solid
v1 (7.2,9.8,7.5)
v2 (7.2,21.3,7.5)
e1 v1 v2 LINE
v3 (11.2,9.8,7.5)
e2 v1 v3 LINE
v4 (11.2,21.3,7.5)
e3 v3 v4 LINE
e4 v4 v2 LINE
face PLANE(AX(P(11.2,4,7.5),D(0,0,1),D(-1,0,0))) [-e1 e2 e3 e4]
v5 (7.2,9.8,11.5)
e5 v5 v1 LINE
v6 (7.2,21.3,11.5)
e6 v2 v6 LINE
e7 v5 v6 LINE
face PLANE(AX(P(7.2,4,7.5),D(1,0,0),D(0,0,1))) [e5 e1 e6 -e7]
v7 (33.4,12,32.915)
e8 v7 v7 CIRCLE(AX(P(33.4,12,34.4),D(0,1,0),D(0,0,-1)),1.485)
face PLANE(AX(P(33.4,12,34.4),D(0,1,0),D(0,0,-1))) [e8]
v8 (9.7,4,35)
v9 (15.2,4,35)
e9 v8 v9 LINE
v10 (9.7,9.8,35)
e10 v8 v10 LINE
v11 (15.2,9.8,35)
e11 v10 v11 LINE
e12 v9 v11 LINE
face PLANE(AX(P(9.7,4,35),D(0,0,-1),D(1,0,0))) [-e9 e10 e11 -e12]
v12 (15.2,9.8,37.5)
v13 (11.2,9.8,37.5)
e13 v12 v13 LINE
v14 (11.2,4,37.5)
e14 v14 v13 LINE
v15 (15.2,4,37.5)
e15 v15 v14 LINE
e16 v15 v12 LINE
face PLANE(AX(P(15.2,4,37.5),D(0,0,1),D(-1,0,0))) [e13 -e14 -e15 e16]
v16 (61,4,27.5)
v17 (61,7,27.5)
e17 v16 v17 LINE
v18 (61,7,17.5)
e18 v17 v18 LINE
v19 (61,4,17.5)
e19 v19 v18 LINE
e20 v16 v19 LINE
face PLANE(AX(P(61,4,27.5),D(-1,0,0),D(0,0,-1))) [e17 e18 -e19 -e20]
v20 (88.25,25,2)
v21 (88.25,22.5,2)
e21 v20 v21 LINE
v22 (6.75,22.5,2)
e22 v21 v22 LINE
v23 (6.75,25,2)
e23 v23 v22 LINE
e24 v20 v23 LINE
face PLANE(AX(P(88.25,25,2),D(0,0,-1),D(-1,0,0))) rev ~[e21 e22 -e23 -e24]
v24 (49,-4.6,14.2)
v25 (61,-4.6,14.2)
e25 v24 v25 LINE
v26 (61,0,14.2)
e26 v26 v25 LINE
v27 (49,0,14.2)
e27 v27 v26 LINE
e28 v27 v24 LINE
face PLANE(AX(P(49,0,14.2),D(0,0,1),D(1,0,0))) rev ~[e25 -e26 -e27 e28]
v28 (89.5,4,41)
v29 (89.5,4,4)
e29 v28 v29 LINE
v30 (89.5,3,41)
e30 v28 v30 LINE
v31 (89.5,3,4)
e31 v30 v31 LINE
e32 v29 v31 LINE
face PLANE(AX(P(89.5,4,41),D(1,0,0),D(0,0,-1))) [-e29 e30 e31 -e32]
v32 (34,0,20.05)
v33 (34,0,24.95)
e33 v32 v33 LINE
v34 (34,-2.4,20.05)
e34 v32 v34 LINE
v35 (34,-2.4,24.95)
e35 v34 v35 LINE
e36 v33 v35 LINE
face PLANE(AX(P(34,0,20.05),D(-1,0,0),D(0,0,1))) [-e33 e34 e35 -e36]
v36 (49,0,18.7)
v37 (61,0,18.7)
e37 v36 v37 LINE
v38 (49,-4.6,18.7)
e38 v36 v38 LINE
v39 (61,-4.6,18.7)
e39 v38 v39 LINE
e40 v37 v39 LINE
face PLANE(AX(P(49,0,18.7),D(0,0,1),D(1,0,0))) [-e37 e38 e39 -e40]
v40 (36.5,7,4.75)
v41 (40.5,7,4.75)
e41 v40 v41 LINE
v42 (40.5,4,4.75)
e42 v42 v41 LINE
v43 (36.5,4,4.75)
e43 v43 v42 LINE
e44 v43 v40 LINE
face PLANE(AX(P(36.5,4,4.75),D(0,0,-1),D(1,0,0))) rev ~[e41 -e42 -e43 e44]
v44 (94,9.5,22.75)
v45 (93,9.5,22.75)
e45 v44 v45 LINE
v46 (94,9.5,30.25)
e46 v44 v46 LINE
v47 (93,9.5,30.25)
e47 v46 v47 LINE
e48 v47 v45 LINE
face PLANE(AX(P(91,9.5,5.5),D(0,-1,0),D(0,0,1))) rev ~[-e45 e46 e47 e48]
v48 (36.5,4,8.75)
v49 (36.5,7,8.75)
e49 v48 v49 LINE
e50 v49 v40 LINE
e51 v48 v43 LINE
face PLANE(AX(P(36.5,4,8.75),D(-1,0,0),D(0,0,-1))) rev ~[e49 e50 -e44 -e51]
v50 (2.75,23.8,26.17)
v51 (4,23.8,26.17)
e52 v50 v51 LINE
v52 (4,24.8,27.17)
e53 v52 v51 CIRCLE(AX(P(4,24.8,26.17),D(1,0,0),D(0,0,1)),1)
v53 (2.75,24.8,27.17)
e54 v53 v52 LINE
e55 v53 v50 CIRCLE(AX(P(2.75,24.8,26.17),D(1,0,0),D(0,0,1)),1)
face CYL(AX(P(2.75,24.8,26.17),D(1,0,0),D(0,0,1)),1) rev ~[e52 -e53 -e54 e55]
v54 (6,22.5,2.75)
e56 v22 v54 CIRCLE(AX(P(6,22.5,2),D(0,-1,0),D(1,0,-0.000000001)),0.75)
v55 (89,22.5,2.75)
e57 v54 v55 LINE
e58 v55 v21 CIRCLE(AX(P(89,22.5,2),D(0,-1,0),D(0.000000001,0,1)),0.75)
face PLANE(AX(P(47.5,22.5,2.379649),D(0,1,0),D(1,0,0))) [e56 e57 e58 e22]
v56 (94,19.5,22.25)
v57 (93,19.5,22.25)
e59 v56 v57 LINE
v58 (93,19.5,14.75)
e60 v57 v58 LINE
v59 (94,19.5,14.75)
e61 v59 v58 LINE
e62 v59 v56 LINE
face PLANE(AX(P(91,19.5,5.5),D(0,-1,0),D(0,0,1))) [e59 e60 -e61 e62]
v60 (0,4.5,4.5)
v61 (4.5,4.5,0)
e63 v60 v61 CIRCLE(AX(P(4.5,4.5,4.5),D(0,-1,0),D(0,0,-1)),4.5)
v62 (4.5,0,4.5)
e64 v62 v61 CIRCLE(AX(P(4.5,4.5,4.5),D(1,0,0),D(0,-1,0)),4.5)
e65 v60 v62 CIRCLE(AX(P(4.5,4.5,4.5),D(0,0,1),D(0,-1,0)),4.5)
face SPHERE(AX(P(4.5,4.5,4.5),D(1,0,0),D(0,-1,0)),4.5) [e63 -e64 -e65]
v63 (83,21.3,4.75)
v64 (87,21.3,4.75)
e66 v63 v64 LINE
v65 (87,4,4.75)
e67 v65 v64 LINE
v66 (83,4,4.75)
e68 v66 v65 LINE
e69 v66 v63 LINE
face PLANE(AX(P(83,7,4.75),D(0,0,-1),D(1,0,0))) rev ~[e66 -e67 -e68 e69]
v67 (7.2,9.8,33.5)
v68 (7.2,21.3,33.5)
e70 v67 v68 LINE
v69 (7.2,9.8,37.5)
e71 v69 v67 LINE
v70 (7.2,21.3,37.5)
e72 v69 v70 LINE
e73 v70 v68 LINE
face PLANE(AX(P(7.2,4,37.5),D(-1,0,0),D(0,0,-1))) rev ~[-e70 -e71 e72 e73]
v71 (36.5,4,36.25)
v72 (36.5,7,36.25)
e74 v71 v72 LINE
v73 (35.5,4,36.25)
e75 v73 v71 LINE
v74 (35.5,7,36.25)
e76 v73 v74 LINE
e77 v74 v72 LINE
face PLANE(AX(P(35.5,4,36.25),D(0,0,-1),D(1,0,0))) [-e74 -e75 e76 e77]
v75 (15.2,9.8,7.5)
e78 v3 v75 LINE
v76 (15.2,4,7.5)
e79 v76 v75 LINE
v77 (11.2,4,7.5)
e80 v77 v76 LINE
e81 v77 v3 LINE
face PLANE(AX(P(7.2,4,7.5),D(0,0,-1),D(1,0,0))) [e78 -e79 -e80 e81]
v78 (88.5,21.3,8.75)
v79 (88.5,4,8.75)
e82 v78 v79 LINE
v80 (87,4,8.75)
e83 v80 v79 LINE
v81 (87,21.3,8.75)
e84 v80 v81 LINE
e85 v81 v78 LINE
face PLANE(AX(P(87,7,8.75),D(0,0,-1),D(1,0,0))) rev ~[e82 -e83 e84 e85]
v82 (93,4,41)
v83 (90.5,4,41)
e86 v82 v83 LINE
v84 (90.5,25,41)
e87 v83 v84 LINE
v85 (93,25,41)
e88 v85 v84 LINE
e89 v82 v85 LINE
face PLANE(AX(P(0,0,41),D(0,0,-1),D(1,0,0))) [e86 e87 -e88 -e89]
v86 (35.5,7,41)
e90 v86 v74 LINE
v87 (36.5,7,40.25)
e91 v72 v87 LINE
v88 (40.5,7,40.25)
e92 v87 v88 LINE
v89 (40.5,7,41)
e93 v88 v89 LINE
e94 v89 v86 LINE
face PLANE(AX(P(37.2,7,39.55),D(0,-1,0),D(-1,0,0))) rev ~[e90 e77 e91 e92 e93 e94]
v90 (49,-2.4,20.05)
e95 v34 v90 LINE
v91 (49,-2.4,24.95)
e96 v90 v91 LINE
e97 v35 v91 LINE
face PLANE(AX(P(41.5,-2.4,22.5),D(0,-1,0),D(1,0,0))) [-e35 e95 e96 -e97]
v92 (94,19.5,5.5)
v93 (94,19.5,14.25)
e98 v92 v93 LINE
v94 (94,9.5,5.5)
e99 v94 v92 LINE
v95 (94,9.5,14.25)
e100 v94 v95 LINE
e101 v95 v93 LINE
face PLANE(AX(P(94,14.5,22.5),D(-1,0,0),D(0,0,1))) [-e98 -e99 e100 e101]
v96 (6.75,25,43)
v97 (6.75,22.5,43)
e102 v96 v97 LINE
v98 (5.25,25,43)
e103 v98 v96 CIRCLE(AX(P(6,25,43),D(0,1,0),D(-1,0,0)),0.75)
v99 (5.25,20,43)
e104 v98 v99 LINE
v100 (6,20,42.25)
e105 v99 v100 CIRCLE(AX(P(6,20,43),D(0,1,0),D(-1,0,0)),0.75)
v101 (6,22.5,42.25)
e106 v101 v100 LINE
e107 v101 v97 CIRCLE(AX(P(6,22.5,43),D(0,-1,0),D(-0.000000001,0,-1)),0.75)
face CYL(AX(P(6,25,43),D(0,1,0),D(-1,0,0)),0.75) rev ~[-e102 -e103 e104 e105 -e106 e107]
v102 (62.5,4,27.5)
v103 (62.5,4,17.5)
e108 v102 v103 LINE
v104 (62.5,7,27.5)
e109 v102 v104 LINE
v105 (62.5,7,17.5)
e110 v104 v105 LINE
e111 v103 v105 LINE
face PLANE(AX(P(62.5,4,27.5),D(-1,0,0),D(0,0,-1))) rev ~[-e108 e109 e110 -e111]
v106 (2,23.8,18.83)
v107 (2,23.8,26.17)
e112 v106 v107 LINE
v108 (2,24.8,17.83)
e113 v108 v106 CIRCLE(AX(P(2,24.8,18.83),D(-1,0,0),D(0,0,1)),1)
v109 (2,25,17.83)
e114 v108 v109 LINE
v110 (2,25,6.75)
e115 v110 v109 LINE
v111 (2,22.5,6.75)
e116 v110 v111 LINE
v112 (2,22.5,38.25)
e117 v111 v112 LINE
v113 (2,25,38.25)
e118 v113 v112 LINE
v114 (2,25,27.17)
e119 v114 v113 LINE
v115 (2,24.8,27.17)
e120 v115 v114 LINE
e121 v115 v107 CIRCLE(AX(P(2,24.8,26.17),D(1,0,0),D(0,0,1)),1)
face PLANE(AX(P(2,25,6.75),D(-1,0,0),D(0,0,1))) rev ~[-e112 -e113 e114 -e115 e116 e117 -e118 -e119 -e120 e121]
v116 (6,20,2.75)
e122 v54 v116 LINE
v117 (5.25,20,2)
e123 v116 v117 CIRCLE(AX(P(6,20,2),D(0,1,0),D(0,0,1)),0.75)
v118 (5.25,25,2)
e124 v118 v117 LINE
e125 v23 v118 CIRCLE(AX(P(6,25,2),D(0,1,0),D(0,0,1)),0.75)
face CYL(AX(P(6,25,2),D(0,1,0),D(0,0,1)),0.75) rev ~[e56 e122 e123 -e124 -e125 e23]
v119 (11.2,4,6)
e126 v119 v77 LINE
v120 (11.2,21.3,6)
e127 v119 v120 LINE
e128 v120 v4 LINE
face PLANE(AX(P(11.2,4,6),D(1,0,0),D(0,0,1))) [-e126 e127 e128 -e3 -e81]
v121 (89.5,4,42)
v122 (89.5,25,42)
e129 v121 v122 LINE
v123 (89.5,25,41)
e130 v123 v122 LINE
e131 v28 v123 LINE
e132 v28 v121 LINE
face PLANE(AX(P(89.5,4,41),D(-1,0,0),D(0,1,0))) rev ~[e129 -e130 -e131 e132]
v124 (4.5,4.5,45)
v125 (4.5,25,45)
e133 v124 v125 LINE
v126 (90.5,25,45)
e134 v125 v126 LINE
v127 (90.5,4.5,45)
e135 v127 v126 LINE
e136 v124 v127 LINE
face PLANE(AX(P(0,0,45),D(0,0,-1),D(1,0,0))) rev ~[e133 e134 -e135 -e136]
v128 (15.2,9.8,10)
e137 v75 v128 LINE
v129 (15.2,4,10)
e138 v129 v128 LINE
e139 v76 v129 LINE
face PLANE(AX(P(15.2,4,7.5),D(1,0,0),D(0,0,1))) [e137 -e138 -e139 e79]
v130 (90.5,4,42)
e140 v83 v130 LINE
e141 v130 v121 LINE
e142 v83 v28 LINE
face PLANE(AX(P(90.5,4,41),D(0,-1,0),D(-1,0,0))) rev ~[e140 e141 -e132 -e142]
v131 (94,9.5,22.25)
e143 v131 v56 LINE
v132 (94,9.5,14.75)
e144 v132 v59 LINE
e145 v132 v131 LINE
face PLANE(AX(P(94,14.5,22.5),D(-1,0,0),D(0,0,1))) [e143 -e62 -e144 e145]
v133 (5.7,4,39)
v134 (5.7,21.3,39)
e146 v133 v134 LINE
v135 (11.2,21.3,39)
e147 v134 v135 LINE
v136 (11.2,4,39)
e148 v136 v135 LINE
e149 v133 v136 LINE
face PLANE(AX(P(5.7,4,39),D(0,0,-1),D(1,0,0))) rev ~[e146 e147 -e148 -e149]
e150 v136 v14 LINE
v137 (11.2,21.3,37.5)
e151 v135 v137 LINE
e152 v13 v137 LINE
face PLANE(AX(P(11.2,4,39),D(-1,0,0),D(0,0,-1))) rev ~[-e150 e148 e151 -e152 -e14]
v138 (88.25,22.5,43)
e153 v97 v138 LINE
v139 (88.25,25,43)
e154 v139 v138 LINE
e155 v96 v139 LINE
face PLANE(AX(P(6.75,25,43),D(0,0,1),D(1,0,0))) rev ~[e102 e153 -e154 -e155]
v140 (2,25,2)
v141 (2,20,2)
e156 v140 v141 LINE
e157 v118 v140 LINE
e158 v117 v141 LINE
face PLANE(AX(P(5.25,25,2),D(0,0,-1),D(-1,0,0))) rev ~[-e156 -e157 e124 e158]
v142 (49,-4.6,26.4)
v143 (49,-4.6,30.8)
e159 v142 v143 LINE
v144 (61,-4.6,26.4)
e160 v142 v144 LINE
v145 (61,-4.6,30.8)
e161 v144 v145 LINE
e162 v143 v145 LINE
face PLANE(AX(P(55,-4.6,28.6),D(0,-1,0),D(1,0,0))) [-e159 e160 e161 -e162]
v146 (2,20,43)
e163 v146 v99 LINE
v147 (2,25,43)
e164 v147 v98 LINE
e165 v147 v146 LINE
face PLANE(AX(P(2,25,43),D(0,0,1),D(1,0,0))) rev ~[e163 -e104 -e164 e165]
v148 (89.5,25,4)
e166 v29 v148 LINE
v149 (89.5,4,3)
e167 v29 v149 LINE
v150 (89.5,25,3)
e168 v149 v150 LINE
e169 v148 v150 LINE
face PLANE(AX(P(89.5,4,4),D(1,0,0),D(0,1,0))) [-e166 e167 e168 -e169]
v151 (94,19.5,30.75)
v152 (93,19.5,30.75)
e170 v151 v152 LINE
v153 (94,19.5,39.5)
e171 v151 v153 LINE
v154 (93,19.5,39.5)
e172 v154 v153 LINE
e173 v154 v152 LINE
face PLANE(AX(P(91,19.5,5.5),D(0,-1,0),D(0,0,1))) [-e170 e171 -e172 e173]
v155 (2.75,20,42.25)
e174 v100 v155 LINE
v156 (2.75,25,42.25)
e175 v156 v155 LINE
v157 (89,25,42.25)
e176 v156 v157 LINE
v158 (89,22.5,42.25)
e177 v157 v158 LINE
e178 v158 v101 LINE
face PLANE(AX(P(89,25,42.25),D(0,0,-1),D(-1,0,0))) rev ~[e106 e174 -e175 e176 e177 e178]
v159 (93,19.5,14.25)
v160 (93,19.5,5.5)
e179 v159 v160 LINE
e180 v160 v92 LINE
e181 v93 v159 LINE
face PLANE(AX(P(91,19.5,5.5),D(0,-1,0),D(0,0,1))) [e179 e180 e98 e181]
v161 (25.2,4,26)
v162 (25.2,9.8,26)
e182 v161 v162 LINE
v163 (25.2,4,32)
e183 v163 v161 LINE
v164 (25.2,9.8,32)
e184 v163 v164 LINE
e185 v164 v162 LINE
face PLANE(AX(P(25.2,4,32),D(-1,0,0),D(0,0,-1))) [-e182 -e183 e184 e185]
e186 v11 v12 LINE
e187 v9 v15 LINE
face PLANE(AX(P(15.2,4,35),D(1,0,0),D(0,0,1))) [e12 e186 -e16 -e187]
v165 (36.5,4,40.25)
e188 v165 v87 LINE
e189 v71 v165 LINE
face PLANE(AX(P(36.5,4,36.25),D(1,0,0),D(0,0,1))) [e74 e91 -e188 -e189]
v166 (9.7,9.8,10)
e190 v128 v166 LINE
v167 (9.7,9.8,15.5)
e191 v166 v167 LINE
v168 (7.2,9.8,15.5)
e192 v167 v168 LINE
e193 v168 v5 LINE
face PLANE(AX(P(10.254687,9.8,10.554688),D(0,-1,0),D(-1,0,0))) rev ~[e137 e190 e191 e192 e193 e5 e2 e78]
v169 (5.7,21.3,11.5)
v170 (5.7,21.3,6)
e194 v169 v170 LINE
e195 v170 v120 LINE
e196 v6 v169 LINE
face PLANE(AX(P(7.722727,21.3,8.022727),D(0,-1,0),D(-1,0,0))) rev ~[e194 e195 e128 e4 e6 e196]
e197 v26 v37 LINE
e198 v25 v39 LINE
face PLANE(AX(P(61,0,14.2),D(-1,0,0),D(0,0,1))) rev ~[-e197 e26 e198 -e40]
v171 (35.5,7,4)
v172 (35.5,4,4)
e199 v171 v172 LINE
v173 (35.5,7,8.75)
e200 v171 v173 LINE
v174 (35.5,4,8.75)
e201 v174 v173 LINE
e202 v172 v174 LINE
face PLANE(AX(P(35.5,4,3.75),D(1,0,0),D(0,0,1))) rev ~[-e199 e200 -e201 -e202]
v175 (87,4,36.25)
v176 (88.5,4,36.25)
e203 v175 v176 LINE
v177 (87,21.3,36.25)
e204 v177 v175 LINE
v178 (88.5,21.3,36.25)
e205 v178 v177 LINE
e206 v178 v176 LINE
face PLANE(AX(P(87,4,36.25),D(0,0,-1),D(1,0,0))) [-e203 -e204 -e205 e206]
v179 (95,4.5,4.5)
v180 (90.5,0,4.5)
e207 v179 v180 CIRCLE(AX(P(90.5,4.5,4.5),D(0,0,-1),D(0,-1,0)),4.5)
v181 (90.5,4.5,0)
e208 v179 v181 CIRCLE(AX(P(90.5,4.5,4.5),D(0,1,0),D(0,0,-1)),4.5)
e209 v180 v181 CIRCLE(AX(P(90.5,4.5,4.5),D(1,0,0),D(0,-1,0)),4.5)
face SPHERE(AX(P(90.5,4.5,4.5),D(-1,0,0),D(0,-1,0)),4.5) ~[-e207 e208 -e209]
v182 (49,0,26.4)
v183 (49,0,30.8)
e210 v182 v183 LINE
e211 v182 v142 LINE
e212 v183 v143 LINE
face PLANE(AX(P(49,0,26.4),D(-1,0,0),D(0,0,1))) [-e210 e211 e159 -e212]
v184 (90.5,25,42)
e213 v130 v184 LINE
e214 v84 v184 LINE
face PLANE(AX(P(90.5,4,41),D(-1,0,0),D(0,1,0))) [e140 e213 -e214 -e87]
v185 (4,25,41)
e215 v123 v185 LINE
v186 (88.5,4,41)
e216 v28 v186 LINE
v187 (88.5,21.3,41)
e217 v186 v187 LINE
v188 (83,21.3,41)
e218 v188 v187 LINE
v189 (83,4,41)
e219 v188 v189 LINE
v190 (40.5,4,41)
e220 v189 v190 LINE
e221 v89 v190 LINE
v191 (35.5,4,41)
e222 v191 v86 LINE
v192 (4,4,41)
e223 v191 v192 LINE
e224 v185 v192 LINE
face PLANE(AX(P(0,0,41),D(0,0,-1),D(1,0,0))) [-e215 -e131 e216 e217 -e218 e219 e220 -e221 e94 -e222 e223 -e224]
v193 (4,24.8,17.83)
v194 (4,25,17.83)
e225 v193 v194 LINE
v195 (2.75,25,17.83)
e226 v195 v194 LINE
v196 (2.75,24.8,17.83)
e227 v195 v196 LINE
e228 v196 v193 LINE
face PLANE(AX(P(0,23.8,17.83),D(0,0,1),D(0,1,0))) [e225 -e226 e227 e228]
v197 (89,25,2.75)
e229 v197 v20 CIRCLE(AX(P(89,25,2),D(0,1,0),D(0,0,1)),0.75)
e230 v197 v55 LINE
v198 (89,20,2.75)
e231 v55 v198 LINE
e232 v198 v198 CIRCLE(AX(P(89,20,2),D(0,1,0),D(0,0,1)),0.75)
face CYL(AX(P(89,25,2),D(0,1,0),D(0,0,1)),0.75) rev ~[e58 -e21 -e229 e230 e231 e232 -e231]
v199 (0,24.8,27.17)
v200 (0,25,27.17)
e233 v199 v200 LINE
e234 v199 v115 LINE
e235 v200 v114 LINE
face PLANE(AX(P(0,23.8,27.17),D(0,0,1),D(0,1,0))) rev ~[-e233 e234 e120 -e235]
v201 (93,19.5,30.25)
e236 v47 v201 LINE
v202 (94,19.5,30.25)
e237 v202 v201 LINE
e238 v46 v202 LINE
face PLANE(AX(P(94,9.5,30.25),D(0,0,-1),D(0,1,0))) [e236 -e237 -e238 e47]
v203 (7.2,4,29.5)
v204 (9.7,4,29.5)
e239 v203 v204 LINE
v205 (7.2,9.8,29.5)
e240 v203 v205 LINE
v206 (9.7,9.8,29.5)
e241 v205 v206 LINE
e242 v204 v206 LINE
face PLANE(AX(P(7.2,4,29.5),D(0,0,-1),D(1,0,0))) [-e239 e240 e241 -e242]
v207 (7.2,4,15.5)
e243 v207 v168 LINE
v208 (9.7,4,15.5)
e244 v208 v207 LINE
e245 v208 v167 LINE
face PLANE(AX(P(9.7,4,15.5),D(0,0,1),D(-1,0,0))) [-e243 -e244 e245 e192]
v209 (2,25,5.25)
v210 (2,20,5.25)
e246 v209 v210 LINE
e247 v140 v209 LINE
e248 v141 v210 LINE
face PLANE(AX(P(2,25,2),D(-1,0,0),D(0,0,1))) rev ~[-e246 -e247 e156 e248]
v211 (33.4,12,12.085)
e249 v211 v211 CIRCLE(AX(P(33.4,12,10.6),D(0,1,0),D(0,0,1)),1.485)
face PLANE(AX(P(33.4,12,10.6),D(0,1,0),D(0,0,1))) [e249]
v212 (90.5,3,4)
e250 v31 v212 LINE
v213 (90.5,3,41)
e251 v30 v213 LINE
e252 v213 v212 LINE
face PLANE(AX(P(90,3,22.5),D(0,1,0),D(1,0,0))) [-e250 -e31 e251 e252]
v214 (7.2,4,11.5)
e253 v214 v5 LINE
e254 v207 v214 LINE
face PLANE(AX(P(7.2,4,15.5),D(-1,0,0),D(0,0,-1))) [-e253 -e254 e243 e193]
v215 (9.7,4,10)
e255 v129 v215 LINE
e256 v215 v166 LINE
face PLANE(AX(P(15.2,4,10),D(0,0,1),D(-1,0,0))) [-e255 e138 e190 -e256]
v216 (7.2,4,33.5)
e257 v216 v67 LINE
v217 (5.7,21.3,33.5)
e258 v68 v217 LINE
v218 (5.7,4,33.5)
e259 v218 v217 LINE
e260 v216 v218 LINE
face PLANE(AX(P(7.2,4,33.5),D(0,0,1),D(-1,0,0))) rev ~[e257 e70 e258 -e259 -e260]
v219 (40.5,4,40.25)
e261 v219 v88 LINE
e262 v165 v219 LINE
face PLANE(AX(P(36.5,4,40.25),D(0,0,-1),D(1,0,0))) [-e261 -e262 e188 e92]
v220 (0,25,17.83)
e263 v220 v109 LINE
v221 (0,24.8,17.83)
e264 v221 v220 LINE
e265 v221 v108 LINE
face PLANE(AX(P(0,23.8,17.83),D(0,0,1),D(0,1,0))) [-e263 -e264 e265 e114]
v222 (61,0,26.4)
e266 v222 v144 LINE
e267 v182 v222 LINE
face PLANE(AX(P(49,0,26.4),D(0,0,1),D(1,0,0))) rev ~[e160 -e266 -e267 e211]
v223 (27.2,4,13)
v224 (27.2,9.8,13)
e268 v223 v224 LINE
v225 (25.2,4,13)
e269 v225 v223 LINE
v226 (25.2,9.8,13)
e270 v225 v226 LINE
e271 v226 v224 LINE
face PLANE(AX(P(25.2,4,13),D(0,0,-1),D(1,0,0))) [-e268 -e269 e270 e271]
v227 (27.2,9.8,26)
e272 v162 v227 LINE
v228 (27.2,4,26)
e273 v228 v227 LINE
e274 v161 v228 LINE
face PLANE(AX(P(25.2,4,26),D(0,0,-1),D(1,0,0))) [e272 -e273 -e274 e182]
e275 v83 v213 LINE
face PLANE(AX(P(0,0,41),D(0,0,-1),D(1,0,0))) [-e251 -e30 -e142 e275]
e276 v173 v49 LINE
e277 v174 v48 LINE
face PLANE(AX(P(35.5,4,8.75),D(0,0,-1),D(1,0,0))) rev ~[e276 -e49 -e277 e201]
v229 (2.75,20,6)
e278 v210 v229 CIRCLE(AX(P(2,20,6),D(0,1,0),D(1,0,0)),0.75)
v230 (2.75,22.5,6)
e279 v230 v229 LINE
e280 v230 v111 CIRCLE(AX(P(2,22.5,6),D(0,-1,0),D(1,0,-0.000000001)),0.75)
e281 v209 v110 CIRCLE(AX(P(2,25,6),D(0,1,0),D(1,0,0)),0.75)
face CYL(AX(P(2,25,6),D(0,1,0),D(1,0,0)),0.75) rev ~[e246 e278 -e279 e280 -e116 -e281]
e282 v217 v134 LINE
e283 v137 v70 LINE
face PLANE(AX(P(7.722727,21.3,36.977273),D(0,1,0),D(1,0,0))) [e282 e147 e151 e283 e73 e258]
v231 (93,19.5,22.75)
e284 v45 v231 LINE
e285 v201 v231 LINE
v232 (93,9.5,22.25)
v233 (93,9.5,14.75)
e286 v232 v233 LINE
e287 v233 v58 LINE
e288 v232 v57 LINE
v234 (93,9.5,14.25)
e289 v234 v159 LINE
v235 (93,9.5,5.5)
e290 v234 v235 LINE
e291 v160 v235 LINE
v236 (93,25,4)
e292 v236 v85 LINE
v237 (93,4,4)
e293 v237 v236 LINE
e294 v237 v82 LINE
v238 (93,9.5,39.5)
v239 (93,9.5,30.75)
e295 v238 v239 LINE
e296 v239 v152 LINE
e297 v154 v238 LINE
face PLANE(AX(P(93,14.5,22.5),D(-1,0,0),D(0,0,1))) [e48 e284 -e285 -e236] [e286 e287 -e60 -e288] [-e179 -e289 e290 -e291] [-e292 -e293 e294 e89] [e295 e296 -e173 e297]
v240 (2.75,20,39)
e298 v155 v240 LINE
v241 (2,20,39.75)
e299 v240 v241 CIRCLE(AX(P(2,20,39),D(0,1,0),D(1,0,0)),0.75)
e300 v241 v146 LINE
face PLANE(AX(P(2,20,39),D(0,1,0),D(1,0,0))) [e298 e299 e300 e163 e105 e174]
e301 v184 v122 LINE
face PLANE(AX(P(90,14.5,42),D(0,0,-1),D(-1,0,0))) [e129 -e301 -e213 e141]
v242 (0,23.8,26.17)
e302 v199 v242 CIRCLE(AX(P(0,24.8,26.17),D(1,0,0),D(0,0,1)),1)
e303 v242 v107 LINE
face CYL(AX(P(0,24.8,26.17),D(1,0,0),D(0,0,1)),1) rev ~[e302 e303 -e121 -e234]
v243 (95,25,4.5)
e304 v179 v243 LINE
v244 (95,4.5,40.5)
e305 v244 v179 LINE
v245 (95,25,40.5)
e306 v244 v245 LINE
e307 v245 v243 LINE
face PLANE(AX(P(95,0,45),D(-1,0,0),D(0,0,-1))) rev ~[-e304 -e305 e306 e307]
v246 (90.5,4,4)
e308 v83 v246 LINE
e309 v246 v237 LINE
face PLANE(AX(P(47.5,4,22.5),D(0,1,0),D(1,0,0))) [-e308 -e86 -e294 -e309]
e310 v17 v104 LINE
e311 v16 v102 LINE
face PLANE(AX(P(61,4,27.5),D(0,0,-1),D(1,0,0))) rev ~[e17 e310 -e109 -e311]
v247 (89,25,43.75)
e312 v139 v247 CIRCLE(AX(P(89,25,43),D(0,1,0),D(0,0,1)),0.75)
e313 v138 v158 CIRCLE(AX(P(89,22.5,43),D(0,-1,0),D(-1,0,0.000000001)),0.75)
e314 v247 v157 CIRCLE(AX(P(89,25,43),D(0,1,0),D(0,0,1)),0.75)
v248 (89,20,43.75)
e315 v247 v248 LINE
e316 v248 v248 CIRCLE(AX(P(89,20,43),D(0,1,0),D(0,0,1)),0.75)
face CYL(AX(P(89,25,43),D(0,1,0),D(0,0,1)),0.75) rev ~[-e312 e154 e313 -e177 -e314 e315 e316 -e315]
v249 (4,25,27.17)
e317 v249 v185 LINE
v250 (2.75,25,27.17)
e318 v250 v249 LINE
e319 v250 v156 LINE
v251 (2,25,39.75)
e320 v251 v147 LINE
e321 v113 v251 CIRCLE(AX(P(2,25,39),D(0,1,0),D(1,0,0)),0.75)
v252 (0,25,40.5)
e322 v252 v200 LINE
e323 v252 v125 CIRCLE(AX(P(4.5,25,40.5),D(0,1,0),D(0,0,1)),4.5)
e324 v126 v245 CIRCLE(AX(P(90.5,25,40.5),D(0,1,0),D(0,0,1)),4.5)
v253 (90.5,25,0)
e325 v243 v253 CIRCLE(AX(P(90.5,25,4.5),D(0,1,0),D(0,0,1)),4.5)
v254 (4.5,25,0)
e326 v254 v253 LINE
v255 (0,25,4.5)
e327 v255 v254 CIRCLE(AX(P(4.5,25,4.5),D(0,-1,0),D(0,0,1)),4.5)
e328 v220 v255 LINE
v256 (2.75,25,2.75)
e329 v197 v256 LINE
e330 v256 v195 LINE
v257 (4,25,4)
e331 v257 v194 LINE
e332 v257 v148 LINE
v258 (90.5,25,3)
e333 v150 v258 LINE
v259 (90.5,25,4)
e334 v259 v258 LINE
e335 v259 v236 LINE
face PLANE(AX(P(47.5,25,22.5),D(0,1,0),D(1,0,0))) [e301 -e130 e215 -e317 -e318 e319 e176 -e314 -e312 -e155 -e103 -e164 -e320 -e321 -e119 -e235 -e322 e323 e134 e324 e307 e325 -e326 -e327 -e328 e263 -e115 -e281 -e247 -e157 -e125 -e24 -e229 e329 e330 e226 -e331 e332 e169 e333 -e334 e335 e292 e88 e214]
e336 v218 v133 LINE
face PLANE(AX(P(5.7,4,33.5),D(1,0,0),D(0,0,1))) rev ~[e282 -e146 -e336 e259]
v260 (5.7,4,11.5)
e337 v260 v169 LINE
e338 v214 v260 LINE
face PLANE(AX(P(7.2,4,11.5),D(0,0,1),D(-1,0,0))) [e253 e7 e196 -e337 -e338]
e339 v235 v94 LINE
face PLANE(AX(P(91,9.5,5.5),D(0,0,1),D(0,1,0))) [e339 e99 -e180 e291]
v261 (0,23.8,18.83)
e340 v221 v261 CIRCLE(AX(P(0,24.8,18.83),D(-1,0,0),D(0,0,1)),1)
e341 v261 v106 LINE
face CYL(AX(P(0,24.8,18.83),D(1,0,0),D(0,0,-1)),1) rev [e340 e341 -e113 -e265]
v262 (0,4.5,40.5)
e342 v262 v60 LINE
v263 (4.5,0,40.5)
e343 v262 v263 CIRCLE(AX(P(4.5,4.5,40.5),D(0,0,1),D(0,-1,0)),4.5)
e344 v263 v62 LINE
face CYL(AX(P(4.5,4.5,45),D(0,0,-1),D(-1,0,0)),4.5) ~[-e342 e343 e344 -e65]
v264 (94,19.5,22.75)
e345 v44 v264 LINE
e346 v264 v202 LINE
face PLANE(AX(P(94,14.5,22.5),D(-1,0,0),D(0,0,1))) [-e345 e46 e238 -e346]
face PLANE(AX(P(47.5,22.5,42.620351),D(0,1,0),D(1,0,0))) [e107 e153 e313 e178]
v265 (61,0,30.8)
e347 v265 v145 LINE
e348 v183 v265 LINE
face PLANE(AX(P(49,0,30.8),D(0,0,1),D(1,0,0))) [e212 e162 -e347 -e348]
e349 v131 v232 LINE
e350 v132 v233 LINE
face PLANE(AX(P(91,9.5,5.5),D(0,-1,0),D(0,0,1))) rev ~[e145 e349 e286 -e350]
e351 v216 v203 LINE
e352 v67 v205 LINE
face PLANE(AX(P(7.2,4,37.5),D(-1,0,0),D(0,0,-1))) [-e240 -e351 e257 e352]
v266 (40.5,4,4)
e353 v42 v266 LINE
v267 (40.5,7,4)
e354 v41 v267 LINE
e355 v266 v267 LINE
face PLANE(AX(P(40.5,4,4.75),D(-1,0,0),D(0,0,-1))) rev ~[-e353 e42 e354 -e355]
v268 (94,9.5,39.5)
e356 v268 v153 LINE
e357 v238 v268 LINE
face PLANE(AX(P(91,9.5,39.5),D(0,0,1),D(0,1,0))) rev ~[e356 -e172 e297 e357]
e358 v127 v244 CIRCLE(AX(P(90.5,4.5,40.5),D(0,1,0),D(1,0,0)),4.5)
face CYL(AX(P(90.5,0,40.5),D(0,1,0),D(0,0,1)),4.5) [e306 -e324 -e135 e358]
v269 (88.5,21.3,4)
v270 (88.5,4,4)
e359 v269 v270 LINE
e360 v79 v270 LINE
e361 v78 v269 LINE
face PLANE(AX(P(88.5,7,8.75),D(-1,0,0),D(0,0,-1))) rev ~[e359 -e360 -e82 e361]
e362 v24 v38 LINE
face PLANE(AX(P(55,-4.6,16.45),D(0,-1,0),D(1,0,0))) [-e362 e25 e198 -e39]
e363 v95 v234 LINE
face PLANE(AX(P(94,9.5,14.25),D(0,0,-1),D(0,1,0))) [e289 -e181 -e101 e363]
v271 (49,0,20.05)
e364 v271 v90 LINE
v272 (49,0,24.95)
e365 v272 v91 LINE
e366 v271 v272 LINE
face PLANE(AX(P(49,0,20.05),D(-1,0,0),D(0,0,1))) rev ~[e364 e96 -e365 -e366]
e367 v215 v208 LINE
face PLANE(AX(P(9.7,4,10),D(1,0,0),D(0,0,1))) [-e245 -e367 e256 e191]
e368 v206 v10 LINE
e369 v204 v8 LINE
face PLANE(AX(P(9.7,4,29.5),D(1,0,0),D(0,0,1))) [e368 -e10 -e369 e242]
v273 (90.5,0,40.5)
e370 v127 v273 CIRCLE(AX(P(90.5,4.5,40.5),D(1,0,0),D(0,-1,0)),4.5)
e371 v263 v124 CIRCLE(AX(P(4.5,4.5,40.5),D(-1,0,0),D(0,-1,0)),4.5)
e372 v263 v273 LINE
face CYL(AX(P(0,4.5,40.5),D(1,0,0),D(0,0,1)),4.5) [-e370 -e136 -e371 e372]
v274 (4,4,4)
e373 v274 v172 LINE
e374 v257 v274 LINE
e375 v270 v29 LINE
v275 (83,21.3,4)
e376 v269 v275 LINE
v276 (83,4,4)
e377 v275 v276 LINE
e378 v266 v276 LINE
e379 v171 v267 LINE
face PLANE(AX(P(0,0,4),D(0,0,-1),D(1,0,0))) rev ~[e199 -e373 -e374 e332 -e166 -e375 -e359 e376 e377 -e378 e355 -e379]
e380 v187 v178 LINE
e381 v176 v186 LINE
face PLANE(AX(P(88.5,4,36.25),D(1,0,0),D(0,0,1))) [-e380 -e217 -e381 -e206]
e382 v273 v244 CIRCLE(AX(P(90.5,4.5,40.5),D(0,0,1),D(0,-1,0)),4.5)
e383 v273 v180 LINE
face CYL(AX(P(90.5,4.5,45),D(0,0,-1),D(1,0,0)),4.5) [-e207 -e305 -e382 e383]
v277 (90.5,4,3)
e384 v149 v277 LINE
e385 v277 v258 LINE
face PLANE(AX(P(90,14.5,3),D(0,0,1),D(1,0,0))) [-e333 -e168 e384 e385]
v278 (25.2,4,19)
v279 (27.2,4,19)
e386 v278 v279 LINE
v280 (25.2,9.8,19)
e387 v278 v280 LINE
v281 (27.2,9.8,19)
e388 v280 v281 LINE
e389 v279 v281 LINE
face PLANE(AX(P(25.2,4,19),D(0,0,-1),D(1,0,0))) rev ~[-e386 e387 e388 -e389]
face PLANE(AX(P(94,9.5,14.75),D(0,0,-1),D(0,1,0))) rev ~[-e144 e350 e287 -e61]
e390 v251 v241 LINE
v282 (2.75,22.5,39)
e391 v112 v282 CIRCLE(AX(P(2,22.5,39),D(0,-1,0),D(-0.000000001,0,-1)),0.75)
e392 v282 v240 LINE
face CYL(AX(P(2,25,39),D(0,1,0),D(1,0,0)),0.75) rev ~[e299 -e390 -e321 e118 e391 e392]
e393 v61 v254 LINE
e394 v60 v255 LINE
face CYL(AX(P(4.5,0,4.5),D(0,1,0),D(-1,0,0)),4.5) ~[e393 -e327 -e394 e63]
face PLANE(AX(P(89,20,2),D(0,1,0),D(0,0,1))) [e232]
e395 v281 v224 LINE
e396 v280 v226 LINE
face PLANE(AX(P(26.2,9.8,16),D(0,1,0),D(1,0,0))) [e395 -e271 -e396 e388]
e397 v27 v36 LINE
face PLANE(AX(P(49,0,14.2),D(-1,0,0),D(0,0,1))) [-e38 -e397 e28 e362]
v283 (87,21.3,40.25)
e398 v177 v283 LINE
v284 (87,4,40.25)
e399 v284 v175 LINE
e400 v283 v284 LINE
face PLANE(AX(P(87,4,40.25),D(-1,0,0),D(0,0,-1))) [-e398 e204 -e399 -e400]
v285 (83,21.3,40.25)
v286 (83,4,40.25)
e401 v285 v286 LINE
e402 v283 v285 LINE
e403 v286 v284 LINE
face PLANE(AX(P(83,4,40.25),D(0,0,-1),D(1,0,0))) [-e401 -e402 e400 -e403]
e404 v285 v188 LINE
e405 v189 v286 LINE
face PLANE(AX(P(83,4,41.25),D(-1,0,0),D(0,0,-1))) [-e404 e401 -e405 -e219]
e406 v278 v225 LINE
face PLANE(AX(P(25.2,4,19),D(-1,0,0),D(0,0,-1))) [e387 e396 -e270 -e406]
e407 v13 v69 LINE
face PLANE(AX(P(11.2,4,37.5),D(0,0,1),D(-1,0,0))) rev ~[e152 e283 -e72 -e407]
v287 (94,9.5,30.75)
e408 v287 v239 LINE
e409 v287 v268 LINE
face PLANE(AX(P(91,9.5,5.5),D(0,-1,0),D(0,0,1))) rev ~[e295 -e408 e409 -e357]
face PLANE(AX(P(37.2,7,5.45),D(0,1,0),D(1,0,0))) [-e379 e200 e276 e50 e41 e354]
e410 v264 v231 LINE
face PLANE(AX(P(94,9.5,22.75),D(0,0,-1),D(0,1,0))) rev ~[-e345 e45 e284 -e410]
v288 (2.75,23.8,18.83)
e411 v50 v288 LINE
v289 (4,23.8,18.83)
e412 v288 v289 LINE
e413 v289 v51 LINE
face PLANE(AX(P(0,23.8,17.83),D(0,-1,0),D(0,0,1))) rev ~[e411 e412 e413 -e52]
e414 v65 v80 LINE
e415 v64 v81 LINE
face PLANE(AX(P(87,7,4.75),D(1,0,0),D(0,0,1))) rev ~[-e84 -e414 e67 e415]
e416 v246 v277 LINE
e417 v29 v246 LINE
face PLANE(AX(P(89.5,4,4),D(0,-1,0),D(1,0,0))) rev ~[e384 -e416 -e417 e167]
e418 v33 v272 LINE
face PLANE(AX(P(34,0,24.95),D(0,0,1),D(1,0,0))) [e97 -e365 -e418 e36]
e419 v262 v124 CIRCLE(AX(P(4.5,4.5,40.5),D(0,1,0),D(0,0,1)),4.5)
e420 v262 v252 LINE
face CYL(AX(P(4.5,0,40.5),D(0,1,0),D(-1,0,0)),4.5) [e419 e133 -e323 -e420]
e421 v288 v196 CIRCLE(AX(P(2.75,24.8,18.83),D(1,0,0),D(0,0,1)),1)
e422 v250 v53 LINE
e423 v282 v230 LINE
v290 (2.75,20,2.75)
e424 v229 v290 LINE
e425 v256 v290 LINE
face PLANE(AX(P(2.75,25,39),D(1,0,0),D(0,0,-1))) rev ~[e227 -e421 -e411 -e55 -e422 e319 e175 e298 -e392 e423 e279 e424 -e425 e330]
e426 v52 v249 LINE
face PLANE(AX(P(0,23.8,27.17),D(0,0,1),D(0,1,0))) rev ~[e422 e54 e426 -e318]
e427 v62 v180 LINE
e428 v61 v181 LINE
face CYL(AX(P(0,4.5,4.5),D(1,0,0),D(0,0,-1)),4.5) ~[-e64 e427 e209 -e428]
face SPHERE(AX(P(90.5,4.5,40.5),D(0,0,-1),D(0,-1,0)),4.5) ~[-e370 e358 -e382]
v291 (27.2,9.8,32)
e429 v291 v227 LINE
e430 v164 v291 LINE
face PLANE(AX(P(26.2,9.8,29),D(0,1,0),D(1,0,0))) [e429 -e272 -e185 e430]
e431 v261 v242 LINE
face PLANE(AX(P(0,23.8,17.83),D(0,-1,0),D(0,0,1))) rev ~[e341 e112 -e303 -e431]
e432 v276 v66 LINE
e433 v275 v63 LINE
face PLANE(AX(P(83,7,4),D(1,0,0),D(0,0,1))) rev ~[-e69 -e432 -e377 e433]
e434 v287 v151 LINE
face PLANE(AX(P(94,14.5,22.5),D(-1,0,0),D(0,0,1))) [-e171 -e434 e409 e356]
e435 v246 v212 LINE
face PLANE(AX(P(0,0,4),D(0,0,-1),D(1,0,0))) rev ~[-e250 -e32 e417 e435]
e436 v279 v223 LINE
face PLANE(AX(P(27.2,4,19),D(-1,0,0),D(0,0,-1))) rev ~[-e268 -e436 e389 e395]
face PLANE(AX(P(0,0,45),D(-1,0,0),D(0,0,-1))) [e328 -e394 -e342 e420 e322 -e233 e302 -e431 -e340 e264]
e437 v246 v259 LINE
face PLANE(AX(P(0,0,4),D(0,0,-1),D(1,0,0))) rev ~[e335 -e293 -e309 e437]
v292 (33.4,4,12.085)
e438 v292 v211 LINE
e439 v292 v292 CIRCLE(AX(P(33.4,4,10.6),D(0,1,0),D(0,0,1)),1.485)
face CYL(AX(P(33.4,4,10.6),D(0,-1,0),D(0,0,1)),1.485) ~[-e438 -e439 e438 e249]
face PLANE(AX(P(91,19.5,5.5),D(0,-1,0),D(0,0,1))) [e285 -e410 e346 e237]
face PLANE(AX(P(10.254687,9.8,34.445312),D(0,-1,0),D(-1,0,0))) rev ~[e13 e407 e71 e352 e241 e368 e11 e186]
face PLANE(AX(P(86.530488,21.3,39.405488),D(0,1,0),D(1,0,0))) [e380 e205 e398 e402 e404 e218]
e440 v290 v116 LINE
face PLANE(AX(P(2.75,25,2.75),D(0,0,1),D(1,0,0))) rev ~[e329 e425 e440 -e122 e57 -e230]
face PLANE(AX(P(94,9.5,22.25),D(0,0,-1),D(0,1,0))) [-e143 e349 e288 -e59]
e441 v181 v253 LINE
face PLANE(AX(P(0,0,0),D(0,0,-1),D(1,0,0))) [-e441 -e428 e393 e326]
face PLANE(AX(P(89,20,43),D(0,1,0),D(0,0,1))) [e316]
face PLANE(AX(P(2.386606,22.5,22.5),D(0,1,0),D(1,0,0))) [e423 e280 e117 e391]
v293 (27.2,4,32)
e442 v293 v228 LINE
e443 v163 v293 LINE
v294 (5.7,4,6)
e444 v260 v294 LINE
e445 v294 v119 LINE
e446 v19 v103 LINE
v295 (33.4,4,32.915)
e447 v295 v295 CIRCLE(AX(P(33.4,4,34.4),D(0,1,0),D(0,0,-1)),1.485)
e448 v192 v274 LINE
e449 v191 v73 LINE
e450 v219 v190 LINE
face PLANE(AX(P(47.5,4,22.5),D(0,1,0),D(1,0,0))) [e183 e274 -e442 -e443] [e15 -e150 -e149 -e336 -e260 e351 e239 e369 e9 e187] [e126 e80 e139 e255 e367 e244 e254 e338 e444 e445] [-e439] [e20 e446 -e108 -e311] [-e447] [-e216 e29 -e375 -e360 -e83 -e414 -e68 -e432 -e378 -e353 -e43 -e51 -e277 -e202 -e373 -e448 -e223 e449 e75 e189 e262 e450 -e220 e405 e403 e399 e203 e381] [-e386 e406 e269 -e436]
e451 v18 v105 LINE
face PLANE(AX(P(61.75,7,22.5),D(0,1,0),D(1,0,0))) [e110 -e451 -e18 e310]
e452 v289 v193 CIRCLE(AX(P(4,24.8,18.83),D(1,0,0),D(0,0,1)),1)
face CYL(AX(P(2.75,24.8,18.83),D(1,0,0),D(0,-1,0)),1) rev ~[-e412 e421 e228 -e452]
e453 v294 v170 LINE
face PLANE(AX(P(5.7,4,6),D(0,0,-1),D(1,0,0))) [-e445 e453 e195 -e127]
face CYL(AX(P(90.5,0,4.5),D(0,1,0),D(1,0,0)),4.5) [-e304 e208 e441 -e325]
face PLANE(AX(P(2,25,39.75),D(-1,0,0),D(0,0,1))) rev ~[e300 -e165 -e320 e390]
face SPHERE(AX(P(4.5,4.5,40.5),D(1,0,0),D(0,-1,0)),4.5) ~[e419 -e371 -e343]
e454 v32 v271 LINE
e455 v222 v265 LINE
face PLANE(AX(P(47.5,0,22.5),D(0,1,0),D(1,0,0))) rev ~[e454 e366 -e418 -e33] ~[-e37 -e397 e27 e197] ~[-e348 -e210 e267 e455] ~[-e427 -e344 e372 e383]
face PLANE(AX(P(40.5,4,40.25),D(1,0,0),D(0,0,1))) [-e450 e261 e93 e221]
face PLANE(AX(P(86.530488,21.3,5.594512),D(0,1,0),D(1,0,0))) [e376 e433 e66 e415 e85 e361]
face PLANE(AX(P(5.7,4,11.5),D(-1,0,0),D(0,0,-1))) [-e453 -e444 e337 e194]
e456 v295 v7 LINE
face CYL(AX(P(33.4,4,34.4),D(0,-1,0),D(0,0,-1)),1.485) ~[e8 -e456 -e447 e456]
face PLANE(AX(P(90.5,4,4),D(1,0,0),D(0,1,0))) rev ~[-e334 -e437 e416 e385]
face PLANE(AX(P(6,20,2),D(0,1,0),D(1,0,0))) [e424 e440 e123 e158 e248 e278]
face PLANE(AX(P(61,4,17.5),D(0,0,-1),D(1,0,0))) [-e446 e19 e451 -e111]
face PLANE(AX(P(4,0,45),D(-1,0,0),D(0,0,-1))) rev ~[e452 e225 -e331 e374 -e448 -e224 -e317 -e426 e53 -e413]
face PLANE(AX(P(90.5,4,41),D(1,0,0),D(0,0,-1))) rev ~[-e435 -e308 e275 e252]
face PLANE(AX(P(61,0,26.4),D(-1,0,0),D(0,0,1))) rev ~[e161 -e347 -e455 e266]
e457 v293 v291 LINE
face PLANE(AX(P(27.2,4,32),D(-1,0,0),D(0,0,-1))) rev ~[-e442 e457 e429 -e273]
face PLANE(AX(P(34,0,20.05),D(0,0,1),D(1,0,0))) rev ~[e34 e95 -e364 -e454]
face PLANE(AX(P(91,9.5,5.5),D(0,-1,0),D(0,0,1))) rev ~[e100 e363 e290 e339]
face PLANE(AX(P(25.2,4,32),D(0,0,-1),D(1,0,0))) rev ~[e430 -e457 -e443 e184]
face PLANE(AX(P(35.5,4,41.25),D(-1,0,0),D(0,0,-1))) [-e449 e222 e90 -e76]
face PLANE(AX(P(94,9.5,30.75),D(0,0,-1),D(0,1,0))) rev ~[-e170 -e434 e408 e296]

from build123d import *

# Parameters (mm, degrees)
SKETCH_1_W           = 95
SKETCH_1_H           = 45
EXTRUDE_1_DEPTH      = 25
SHELL_1_T            = -4
FILLET_1_R           = 4.5
SKETCH_2_R           = 0.75
CUT_EXTRUDE_1_DEPTH  = 5
CUT_EXTRUDE_3_DEPTH  = 2.5
SKETCH_8_W           = 34
SKETCH_8_H           = 10
CUT_EXTRUDE_4_DEPTH  = 3
SKETCH_9_W           = 37
SKETCH_9_H           = 21
CUT_EXTRUDE_7_DEPTH  = 2
SKETCH_7_W           = 1
SKETCH_7_H           = 37
CUT_EXTRUDE_8_DEPTH  = 1
SKETCH_11_W          = 1
SKETCH_11_H          = 21
CUT_EXTRUDE_10_DEPTH = 1
SKETCH_12_W          = 1
SKETCH_12_H          = 21
CUT_EXTRUDE_11_DEPTH = 1
SKETCH_15_W          = 0.5
SKETCH_15_H          = 10
EXTRUDE_2_DEPTH      = 1
SKETCH_17_W          = 1.5
SKETCH_17_H          = 10
EXTRUDE_3_DEPTH      = 3
SKETCH_18_R          = 1.485
EXTRUDE_4_DEPTH      = 8
SKETCH_19_W          = 9.34
SKETCH_19_H          = 1.2
CUT_EXTRUDE_12_DEPTH = 10
FILLET_2_R           = 1
FILLET_3_R           = 1
FILLET_4_R           = 1
FILLET_5_R           = 1
SKETCH_20_W          = 2
SKETCH_20_H          = 6
EXTRUDE_5_DEPTH      = 5.8
EXTRUDE_6_DEPTH      = 17.3
EXTRUDE_7_DEPTH      = 14.3
SKETCH_26_W          = 15
SKETCH_26_H          = 4.9
EXTRUDE_8_DEPTH      = 2.4
SKETCH_27_W          = 12
SKETCH_27_H          = 4.4
SKETCH_27_H_2        = 4.5
EXTRUDE_9_DEPTH      = 4.6


with BuildPart() as part:
    # Эскиз1 → Бобышка-Вытянуть1 (new body)
    with BuildSketch(Plane(origin=(0, 0, 0), x_dir=(1, 0, 0), z_dir=(0, 1, 0))):
        with Locations((47.5, -22.5)):
            Rectangle(SKETCH_1_W, SKETCH_1_H)
    extrude(amount=EXTRUDE_1_DEPTH)

    # Оболочка1
    shell_1_openings = [part.faces().sort_by_distance(p)[0] for p in [
        (47.5, 25, 22.5),
    ]]
    offset(amount=SHELL_1_T, openings=shell_1_openings, kind=Kind.INTERSECTION)

    # Скругление1
    fillet_1_edges = [part.edges().sort_by_distance(p)[0] for p in [
        (47.5, 0, 0),
        (95, 0, 22.5),
        (47.5, 0, 45),
        (0, 0, 22.5),
        (0, 12.5, 0),
        (95, 12.5, 0),
        (95, 12.5, 45),
        (0, 12.5, 45),
    ]]
    fillet(fillet_1_edges, radius=FILLET_1_R)

    # Эскиз2 → Вырез-Вытянуть1 (cut)
    with BuildSketch(Plane(origin=(0, 25, 0), x_dir=(1, 0, 0), z_dir=(0, 1, 0))):
        with Locations((6, -2)):
            Circle(SKETCH_2_R)
        with BuildLine():
            ThreePointArc((2, -5.25), (2.530330086, -5.469669914), (2.75, -6))
            Line((2.75, -6), (2.75, -2.75))
            Line((2.75, -2.75), (6, -2.75))
            ThreePointArc((6, -2.75), (5.469669914, -2.530330086), (5.25, -2))
            Line((5.25, -2), (2, -2))
            Line((2, -2), (2, -5.25))
        make_face()
        with Locations((2, -6)):
            Circle(SKETCH_2_R)
        with Locations(Location((89, -43, 0), (0, 0, 270))):
            Circle(SKETCH_2_R)
        with Locations(Location((89, -2, 0), (0, 0, 270))):
            Circle(SKETCH_2_R)
        with Locations((2, -39)):
            Circle(SKETCH_2_R)
        with BuildLine():
            Line((2.75, -42.25), (2.75, -39))
            ThreePointArc((2.75, -39), (2.530330086, -39.530330086), (2, -39.75))
            Line((2, -39.75), (2, -43))
            Line((2, -43), (5.25, -43))
            ThreePointArc((5.25, -43), (5.469669914, -42.469669914), (6, -42.25))
            Line((6, -42.25), (2.75, -42.25))
        make_face()
        with Locations((6, -43)):
            Circle(SKETCH_2_R)
    extrude(amount=-CUT_EXTRUDE_1_DEPTH, mode=Mode.SUBTRACT)

    # Эскиз2<6> → Вырез-Вытянуть3 (cut)
    with BuildSketch(Plane(origin=(0, 25, 0), x_dir=(1, 0, 0), z_dir=(0, 1, 0))):
        with BuildLine():
            Line((2.75, -39), (2.75, -6))
            ThreePointArc((2.75, -6), (2.530330086, -6.530330086), (2, -6.75))
            Line((2, -6.75), (2, -38.25))
            ThreePointArc((2, -38.25), (2.530330086, -38.469669914), (2.75, -39))
        make_face()
        with BuildLine():
            ThreePointArc((6.75, -2), (6.530330086, -2.530330086), (6, -2.75))
            Line((6, -2.75), (89, -2.75))
            ThreePointArc((89, -2.75), (88.469669914, -2.530330086), (88.25, -2))
            Line((88.25, -2), (6.75, -2))
        make_face()
        with BuildLine():
            Line((89, -42.25), (6, -42.25))
            ThreePointArc((6, -42.25), (6.530330086, -42.469669914), (6.75, -43))
            Line((6.75, -43), (88.25, -43))
            ThreePointArc((88.25, -43), (88.469669914, -42.469669914), (89, -42.25))
        make_face()
    extrude(amount=-CUT_EXTRUDE_3_DEPTH, mode=Mode.SUBTRACT)

    # Эскиз8 → Вырез-Вытянуть4 (cut)
    with BuildSketch(Plane.ZY.offset(-91)):
        with Locations((22.5, 14.5)):
            Rectangle(SKETCH_8_W, SKETCH_8_H)
    extrude(amount=-CUT_EXTRUDE_4_DEPTH, mode=Mode.SUBTRACT)

    # Эскиз9 → Вырез-Вытянуть7 (cut)
    with BuildSketch(Plane.ZY.offset(-91)):
        with Locations((22.5, 14.5)):
            Rectangle(SKETCH_9_W, SKETCH_9_H)
    extrude(amount=-CUT_EXTRUDE_7_DEPTH, mode=Mode.SUBTRACT)

    # Эскиз7 → Вырез-Вытянуть8 (cut)
    with BuildSketch(Plane(origin=(0, 4, 0), x_dir=(1, 0, 0), z_dir=(0, 1, 0))):
        with Locations((90, -22.5)):
            Rectangle(SKETCH_7_W, SKETCH_7_H)
    extrude(amount=-CUT_EXTRUDE_8_DEPTH, mode=Mode.SUBTRACT)

    # Эскиз11 → Вырез-Вытянуть10 (cut)
    with BuildSketch(Plane.XY.offset(4)):
        with Locations((90, 14.5)):
            Rectangle(SKETCH_11_W, SKETCH_11_H)
    extrude(amount=-CUT_EXTRUDE_10_DEPTH, mode=Mode.SUBTRACT)

    # Эскиз12 → Вырез-Вытянуть11 (cut)
    with BuildSketch(Plane(origin=(0, 0, 41), x_dir=(-1, 0, 0), z_dir=(0, 0, -1))):
        with Locations((-90, 14.5)):
            Rectangle(SKETCH_12_W, SKETCH_12_H)
    extrude(amount=-CUT_EXTRUDE_11_DEPTH, mode=Mode.SUBTRACT)

    # Эскиз15 → Бобышка-Вытянуть2 (add)
    with BuildSketch(Plane.ZY.offset(-94)):
        with Locations((14.5, 14.5)):
            Rectangle(SKETCH_15_W, SKETCH_15_H)
        with Locations((22.5, 14.5)):
            Rectangle(SKETCH_15_W, SKETCH_15_H)
        with Locations((30.5, 14.5)):
            Rectangle(SKETCH_15_W, SKETCH_15_H)
    extrude(amount=EXTRUDE_2_DEPTH)

    # Эскиз17 → Бобышка-Вытянуть3 (add)
    with BuildSketch(Plane(origin=(0, 4, 0), x_dir=(1, 0, 0), z_dir=(0, 1, 0))):
        with Locations((61.75, -22.5)):
            Rectangle(SKETCH_17_W, SKETCH_17_H)
        Polygon((83, -3.75), (83, -4.75), (87, -4.75), (87, -8.75), (88.5, -8.75), (88.5, -3.75), align=None)
        Polygon((40.5, -3.75), (35.5, -3.75), (35.5, -8.75), (36.5, -8.75), (36.5, -4.75), (40.5, -4.75), align=None)
        Polygon((87, -36.25), (88.5, -36.25), (88.5, -41.25), (83, -41.25), (83, -40.25), (87, -40.25), align=None)
        Polygon((40.5, -40.25), (40.5, -41.25), (35.5, -41.25), (35.5, -36.25), (36.5, -36.25), (36.5, -40.25), align=None)
    extrude(amount=EXTRUDE_3_DEPTH)

    # Эскиз18 → Бобышка-Вытянуть4 (add)
    with BuildSketch(Plane(origin=(0, 4, 0), x_dir=(1, 0, 0), z_dir=(0, 1, 0))):
        with Locations(Location((33.4, -10.6, 0), (0, 0, 270))):
            Circle(SKETCH_18_R)
        with Locations(Location((33.4, -34.4, 0), (0, 0, 90))):
            Circle(SKETCH_18_R)
    extrude(amount=EXTRUDE_4_DEPTH)

    # Эскиз19 → Вырез-Вытянуть12 (cut)
    with BuildSketch(Plane.ZY):
        with Locations((22.5, 24.4)):
            Rectangle(SKETCH_19_W, SKETCH_19_H)
    extrude(amount=-CUT_EXTRUDE_12_DEPTH, mode=Mode.SUBTRACT)

    # Скругление2
    fillet_2_edges = [part.edges().sort_by_distance(p)[0] for p in [
        (1, 23.8, 27.17),
    ]]
    fillet(fillet_2_edges, radius=FILLET_2_R)

    # Скругление3
    fillet_3_edges = [part.edges().sort_by_distance(p)[0] for p in [
        (3.375, 23.8, 27.17),
    ]]
    fillet(fillet_3_edges, radius=FILLET_3_R)

    # Скругление4
    fillet_4_edges = [part.edges().sort_by_distance(p)[0] for p in [
        (3.375, 23.8, 17.83),
    ]]
    fillet(fillet_4_edges, radius=FILLET_4_R)

    # Скругление5
    fillet_5_edges = [part.edges().sort_by_distance(p)[0] for p in [
        (1, 23.8, 17.83),
    ]]
    fillet(fillet_5_edges, radius=FILLET_5_R)

    # Эскиз20 → Бобышка-Вытянуть5 (add)
    with BuildSketch(Plane(origin=(0, 4, 0), x_dir=(1, 0, 0), z_dir=(0, 1, 0))):
        Polygon((15.2, -10), (9.7, -10), (9.7, -15.5), (7.2, -15.5), (7.2, -7.5), (15.2, -7.5), align=None)
        Polygon((9.7, -29.5), (9.7, -35), (15.2, -35), (15.2, -37.5), (7.2, -37.5), (7.2, -29.5), align=None)
        with Locations((26.2, -16)):
            Rectangle(SKETCH_20_W, SKETCH_20_H)
        with Locations((26.2, -29)):
            Rectangle(SKETCH_20_W, SKETCH_20_H)
    extrude(amount=EXTRUDE_5_DEPTH)

    # Эскиз22 → Бобышка-Вытянуть6 (add)
    with BuildSketch(Plane(origin=(0, 4, 0), x_dir=(1, 0, 0), z_dir=(0, 1, 0))):
        Polygon((7.2, -7.5), (7.2, -11.5), (5.7, -11.5), (5.7, -6), (11.2, -6), (11.2, -7.5), align=None)
        Polygon((7.2, -33.5), (5.7, -33.5), (5.7, -39), (11.2, -39), (11.2, -37.5), (7.2, -37.5), align=None)
    extrude(amount=EXTRUDE_6_DEPTH)

    # Эскиз25 → Бобышка-Вытянуть7 (add)
    with BuildSketch(Plane(origin=(0, 7, 0), x_dir=(1, 0, 0), z_dir=(0, 1, 0))):
        Polygon((83, -4), (83, -4.75), (87, -4.75), (87, -8.75), (88.5, -8.75), (88.5, -4), align=None)
        Polygon((83, -40.25), (83, -41), (88.5, -41), (88.5, -36.25), (87, -36.25), (87, -40.25), align=None)
    extrude(amount=EXTRUDE_7_DEPTH)

    # Эскиз26 → Бобышка-Вытянуть8 (add)
    with BuildSketch(Plane.XZ):
        with Locations((41.5, 22.5)):
            Rectangle(SKETCH_26_W, SKETCH_26_H)
    extrude(amount=EXTRUDE_8_DEPTH)

    # Эскиз27 → Бобышка-Вытянуть9 (add)
    with BuildSketch(Plane.XZ):
        with Locations((55, 28.6)):
            Rectangle(SKETCH_27_W, SKETCH_27_H)
        with Locations((55, 16.45)):
            Rectangle(SKETCH_27_W, SKETCH_27_H_2)
    extrude(amount=EXTRUDE_9_DEPTH)


solid = part.part
